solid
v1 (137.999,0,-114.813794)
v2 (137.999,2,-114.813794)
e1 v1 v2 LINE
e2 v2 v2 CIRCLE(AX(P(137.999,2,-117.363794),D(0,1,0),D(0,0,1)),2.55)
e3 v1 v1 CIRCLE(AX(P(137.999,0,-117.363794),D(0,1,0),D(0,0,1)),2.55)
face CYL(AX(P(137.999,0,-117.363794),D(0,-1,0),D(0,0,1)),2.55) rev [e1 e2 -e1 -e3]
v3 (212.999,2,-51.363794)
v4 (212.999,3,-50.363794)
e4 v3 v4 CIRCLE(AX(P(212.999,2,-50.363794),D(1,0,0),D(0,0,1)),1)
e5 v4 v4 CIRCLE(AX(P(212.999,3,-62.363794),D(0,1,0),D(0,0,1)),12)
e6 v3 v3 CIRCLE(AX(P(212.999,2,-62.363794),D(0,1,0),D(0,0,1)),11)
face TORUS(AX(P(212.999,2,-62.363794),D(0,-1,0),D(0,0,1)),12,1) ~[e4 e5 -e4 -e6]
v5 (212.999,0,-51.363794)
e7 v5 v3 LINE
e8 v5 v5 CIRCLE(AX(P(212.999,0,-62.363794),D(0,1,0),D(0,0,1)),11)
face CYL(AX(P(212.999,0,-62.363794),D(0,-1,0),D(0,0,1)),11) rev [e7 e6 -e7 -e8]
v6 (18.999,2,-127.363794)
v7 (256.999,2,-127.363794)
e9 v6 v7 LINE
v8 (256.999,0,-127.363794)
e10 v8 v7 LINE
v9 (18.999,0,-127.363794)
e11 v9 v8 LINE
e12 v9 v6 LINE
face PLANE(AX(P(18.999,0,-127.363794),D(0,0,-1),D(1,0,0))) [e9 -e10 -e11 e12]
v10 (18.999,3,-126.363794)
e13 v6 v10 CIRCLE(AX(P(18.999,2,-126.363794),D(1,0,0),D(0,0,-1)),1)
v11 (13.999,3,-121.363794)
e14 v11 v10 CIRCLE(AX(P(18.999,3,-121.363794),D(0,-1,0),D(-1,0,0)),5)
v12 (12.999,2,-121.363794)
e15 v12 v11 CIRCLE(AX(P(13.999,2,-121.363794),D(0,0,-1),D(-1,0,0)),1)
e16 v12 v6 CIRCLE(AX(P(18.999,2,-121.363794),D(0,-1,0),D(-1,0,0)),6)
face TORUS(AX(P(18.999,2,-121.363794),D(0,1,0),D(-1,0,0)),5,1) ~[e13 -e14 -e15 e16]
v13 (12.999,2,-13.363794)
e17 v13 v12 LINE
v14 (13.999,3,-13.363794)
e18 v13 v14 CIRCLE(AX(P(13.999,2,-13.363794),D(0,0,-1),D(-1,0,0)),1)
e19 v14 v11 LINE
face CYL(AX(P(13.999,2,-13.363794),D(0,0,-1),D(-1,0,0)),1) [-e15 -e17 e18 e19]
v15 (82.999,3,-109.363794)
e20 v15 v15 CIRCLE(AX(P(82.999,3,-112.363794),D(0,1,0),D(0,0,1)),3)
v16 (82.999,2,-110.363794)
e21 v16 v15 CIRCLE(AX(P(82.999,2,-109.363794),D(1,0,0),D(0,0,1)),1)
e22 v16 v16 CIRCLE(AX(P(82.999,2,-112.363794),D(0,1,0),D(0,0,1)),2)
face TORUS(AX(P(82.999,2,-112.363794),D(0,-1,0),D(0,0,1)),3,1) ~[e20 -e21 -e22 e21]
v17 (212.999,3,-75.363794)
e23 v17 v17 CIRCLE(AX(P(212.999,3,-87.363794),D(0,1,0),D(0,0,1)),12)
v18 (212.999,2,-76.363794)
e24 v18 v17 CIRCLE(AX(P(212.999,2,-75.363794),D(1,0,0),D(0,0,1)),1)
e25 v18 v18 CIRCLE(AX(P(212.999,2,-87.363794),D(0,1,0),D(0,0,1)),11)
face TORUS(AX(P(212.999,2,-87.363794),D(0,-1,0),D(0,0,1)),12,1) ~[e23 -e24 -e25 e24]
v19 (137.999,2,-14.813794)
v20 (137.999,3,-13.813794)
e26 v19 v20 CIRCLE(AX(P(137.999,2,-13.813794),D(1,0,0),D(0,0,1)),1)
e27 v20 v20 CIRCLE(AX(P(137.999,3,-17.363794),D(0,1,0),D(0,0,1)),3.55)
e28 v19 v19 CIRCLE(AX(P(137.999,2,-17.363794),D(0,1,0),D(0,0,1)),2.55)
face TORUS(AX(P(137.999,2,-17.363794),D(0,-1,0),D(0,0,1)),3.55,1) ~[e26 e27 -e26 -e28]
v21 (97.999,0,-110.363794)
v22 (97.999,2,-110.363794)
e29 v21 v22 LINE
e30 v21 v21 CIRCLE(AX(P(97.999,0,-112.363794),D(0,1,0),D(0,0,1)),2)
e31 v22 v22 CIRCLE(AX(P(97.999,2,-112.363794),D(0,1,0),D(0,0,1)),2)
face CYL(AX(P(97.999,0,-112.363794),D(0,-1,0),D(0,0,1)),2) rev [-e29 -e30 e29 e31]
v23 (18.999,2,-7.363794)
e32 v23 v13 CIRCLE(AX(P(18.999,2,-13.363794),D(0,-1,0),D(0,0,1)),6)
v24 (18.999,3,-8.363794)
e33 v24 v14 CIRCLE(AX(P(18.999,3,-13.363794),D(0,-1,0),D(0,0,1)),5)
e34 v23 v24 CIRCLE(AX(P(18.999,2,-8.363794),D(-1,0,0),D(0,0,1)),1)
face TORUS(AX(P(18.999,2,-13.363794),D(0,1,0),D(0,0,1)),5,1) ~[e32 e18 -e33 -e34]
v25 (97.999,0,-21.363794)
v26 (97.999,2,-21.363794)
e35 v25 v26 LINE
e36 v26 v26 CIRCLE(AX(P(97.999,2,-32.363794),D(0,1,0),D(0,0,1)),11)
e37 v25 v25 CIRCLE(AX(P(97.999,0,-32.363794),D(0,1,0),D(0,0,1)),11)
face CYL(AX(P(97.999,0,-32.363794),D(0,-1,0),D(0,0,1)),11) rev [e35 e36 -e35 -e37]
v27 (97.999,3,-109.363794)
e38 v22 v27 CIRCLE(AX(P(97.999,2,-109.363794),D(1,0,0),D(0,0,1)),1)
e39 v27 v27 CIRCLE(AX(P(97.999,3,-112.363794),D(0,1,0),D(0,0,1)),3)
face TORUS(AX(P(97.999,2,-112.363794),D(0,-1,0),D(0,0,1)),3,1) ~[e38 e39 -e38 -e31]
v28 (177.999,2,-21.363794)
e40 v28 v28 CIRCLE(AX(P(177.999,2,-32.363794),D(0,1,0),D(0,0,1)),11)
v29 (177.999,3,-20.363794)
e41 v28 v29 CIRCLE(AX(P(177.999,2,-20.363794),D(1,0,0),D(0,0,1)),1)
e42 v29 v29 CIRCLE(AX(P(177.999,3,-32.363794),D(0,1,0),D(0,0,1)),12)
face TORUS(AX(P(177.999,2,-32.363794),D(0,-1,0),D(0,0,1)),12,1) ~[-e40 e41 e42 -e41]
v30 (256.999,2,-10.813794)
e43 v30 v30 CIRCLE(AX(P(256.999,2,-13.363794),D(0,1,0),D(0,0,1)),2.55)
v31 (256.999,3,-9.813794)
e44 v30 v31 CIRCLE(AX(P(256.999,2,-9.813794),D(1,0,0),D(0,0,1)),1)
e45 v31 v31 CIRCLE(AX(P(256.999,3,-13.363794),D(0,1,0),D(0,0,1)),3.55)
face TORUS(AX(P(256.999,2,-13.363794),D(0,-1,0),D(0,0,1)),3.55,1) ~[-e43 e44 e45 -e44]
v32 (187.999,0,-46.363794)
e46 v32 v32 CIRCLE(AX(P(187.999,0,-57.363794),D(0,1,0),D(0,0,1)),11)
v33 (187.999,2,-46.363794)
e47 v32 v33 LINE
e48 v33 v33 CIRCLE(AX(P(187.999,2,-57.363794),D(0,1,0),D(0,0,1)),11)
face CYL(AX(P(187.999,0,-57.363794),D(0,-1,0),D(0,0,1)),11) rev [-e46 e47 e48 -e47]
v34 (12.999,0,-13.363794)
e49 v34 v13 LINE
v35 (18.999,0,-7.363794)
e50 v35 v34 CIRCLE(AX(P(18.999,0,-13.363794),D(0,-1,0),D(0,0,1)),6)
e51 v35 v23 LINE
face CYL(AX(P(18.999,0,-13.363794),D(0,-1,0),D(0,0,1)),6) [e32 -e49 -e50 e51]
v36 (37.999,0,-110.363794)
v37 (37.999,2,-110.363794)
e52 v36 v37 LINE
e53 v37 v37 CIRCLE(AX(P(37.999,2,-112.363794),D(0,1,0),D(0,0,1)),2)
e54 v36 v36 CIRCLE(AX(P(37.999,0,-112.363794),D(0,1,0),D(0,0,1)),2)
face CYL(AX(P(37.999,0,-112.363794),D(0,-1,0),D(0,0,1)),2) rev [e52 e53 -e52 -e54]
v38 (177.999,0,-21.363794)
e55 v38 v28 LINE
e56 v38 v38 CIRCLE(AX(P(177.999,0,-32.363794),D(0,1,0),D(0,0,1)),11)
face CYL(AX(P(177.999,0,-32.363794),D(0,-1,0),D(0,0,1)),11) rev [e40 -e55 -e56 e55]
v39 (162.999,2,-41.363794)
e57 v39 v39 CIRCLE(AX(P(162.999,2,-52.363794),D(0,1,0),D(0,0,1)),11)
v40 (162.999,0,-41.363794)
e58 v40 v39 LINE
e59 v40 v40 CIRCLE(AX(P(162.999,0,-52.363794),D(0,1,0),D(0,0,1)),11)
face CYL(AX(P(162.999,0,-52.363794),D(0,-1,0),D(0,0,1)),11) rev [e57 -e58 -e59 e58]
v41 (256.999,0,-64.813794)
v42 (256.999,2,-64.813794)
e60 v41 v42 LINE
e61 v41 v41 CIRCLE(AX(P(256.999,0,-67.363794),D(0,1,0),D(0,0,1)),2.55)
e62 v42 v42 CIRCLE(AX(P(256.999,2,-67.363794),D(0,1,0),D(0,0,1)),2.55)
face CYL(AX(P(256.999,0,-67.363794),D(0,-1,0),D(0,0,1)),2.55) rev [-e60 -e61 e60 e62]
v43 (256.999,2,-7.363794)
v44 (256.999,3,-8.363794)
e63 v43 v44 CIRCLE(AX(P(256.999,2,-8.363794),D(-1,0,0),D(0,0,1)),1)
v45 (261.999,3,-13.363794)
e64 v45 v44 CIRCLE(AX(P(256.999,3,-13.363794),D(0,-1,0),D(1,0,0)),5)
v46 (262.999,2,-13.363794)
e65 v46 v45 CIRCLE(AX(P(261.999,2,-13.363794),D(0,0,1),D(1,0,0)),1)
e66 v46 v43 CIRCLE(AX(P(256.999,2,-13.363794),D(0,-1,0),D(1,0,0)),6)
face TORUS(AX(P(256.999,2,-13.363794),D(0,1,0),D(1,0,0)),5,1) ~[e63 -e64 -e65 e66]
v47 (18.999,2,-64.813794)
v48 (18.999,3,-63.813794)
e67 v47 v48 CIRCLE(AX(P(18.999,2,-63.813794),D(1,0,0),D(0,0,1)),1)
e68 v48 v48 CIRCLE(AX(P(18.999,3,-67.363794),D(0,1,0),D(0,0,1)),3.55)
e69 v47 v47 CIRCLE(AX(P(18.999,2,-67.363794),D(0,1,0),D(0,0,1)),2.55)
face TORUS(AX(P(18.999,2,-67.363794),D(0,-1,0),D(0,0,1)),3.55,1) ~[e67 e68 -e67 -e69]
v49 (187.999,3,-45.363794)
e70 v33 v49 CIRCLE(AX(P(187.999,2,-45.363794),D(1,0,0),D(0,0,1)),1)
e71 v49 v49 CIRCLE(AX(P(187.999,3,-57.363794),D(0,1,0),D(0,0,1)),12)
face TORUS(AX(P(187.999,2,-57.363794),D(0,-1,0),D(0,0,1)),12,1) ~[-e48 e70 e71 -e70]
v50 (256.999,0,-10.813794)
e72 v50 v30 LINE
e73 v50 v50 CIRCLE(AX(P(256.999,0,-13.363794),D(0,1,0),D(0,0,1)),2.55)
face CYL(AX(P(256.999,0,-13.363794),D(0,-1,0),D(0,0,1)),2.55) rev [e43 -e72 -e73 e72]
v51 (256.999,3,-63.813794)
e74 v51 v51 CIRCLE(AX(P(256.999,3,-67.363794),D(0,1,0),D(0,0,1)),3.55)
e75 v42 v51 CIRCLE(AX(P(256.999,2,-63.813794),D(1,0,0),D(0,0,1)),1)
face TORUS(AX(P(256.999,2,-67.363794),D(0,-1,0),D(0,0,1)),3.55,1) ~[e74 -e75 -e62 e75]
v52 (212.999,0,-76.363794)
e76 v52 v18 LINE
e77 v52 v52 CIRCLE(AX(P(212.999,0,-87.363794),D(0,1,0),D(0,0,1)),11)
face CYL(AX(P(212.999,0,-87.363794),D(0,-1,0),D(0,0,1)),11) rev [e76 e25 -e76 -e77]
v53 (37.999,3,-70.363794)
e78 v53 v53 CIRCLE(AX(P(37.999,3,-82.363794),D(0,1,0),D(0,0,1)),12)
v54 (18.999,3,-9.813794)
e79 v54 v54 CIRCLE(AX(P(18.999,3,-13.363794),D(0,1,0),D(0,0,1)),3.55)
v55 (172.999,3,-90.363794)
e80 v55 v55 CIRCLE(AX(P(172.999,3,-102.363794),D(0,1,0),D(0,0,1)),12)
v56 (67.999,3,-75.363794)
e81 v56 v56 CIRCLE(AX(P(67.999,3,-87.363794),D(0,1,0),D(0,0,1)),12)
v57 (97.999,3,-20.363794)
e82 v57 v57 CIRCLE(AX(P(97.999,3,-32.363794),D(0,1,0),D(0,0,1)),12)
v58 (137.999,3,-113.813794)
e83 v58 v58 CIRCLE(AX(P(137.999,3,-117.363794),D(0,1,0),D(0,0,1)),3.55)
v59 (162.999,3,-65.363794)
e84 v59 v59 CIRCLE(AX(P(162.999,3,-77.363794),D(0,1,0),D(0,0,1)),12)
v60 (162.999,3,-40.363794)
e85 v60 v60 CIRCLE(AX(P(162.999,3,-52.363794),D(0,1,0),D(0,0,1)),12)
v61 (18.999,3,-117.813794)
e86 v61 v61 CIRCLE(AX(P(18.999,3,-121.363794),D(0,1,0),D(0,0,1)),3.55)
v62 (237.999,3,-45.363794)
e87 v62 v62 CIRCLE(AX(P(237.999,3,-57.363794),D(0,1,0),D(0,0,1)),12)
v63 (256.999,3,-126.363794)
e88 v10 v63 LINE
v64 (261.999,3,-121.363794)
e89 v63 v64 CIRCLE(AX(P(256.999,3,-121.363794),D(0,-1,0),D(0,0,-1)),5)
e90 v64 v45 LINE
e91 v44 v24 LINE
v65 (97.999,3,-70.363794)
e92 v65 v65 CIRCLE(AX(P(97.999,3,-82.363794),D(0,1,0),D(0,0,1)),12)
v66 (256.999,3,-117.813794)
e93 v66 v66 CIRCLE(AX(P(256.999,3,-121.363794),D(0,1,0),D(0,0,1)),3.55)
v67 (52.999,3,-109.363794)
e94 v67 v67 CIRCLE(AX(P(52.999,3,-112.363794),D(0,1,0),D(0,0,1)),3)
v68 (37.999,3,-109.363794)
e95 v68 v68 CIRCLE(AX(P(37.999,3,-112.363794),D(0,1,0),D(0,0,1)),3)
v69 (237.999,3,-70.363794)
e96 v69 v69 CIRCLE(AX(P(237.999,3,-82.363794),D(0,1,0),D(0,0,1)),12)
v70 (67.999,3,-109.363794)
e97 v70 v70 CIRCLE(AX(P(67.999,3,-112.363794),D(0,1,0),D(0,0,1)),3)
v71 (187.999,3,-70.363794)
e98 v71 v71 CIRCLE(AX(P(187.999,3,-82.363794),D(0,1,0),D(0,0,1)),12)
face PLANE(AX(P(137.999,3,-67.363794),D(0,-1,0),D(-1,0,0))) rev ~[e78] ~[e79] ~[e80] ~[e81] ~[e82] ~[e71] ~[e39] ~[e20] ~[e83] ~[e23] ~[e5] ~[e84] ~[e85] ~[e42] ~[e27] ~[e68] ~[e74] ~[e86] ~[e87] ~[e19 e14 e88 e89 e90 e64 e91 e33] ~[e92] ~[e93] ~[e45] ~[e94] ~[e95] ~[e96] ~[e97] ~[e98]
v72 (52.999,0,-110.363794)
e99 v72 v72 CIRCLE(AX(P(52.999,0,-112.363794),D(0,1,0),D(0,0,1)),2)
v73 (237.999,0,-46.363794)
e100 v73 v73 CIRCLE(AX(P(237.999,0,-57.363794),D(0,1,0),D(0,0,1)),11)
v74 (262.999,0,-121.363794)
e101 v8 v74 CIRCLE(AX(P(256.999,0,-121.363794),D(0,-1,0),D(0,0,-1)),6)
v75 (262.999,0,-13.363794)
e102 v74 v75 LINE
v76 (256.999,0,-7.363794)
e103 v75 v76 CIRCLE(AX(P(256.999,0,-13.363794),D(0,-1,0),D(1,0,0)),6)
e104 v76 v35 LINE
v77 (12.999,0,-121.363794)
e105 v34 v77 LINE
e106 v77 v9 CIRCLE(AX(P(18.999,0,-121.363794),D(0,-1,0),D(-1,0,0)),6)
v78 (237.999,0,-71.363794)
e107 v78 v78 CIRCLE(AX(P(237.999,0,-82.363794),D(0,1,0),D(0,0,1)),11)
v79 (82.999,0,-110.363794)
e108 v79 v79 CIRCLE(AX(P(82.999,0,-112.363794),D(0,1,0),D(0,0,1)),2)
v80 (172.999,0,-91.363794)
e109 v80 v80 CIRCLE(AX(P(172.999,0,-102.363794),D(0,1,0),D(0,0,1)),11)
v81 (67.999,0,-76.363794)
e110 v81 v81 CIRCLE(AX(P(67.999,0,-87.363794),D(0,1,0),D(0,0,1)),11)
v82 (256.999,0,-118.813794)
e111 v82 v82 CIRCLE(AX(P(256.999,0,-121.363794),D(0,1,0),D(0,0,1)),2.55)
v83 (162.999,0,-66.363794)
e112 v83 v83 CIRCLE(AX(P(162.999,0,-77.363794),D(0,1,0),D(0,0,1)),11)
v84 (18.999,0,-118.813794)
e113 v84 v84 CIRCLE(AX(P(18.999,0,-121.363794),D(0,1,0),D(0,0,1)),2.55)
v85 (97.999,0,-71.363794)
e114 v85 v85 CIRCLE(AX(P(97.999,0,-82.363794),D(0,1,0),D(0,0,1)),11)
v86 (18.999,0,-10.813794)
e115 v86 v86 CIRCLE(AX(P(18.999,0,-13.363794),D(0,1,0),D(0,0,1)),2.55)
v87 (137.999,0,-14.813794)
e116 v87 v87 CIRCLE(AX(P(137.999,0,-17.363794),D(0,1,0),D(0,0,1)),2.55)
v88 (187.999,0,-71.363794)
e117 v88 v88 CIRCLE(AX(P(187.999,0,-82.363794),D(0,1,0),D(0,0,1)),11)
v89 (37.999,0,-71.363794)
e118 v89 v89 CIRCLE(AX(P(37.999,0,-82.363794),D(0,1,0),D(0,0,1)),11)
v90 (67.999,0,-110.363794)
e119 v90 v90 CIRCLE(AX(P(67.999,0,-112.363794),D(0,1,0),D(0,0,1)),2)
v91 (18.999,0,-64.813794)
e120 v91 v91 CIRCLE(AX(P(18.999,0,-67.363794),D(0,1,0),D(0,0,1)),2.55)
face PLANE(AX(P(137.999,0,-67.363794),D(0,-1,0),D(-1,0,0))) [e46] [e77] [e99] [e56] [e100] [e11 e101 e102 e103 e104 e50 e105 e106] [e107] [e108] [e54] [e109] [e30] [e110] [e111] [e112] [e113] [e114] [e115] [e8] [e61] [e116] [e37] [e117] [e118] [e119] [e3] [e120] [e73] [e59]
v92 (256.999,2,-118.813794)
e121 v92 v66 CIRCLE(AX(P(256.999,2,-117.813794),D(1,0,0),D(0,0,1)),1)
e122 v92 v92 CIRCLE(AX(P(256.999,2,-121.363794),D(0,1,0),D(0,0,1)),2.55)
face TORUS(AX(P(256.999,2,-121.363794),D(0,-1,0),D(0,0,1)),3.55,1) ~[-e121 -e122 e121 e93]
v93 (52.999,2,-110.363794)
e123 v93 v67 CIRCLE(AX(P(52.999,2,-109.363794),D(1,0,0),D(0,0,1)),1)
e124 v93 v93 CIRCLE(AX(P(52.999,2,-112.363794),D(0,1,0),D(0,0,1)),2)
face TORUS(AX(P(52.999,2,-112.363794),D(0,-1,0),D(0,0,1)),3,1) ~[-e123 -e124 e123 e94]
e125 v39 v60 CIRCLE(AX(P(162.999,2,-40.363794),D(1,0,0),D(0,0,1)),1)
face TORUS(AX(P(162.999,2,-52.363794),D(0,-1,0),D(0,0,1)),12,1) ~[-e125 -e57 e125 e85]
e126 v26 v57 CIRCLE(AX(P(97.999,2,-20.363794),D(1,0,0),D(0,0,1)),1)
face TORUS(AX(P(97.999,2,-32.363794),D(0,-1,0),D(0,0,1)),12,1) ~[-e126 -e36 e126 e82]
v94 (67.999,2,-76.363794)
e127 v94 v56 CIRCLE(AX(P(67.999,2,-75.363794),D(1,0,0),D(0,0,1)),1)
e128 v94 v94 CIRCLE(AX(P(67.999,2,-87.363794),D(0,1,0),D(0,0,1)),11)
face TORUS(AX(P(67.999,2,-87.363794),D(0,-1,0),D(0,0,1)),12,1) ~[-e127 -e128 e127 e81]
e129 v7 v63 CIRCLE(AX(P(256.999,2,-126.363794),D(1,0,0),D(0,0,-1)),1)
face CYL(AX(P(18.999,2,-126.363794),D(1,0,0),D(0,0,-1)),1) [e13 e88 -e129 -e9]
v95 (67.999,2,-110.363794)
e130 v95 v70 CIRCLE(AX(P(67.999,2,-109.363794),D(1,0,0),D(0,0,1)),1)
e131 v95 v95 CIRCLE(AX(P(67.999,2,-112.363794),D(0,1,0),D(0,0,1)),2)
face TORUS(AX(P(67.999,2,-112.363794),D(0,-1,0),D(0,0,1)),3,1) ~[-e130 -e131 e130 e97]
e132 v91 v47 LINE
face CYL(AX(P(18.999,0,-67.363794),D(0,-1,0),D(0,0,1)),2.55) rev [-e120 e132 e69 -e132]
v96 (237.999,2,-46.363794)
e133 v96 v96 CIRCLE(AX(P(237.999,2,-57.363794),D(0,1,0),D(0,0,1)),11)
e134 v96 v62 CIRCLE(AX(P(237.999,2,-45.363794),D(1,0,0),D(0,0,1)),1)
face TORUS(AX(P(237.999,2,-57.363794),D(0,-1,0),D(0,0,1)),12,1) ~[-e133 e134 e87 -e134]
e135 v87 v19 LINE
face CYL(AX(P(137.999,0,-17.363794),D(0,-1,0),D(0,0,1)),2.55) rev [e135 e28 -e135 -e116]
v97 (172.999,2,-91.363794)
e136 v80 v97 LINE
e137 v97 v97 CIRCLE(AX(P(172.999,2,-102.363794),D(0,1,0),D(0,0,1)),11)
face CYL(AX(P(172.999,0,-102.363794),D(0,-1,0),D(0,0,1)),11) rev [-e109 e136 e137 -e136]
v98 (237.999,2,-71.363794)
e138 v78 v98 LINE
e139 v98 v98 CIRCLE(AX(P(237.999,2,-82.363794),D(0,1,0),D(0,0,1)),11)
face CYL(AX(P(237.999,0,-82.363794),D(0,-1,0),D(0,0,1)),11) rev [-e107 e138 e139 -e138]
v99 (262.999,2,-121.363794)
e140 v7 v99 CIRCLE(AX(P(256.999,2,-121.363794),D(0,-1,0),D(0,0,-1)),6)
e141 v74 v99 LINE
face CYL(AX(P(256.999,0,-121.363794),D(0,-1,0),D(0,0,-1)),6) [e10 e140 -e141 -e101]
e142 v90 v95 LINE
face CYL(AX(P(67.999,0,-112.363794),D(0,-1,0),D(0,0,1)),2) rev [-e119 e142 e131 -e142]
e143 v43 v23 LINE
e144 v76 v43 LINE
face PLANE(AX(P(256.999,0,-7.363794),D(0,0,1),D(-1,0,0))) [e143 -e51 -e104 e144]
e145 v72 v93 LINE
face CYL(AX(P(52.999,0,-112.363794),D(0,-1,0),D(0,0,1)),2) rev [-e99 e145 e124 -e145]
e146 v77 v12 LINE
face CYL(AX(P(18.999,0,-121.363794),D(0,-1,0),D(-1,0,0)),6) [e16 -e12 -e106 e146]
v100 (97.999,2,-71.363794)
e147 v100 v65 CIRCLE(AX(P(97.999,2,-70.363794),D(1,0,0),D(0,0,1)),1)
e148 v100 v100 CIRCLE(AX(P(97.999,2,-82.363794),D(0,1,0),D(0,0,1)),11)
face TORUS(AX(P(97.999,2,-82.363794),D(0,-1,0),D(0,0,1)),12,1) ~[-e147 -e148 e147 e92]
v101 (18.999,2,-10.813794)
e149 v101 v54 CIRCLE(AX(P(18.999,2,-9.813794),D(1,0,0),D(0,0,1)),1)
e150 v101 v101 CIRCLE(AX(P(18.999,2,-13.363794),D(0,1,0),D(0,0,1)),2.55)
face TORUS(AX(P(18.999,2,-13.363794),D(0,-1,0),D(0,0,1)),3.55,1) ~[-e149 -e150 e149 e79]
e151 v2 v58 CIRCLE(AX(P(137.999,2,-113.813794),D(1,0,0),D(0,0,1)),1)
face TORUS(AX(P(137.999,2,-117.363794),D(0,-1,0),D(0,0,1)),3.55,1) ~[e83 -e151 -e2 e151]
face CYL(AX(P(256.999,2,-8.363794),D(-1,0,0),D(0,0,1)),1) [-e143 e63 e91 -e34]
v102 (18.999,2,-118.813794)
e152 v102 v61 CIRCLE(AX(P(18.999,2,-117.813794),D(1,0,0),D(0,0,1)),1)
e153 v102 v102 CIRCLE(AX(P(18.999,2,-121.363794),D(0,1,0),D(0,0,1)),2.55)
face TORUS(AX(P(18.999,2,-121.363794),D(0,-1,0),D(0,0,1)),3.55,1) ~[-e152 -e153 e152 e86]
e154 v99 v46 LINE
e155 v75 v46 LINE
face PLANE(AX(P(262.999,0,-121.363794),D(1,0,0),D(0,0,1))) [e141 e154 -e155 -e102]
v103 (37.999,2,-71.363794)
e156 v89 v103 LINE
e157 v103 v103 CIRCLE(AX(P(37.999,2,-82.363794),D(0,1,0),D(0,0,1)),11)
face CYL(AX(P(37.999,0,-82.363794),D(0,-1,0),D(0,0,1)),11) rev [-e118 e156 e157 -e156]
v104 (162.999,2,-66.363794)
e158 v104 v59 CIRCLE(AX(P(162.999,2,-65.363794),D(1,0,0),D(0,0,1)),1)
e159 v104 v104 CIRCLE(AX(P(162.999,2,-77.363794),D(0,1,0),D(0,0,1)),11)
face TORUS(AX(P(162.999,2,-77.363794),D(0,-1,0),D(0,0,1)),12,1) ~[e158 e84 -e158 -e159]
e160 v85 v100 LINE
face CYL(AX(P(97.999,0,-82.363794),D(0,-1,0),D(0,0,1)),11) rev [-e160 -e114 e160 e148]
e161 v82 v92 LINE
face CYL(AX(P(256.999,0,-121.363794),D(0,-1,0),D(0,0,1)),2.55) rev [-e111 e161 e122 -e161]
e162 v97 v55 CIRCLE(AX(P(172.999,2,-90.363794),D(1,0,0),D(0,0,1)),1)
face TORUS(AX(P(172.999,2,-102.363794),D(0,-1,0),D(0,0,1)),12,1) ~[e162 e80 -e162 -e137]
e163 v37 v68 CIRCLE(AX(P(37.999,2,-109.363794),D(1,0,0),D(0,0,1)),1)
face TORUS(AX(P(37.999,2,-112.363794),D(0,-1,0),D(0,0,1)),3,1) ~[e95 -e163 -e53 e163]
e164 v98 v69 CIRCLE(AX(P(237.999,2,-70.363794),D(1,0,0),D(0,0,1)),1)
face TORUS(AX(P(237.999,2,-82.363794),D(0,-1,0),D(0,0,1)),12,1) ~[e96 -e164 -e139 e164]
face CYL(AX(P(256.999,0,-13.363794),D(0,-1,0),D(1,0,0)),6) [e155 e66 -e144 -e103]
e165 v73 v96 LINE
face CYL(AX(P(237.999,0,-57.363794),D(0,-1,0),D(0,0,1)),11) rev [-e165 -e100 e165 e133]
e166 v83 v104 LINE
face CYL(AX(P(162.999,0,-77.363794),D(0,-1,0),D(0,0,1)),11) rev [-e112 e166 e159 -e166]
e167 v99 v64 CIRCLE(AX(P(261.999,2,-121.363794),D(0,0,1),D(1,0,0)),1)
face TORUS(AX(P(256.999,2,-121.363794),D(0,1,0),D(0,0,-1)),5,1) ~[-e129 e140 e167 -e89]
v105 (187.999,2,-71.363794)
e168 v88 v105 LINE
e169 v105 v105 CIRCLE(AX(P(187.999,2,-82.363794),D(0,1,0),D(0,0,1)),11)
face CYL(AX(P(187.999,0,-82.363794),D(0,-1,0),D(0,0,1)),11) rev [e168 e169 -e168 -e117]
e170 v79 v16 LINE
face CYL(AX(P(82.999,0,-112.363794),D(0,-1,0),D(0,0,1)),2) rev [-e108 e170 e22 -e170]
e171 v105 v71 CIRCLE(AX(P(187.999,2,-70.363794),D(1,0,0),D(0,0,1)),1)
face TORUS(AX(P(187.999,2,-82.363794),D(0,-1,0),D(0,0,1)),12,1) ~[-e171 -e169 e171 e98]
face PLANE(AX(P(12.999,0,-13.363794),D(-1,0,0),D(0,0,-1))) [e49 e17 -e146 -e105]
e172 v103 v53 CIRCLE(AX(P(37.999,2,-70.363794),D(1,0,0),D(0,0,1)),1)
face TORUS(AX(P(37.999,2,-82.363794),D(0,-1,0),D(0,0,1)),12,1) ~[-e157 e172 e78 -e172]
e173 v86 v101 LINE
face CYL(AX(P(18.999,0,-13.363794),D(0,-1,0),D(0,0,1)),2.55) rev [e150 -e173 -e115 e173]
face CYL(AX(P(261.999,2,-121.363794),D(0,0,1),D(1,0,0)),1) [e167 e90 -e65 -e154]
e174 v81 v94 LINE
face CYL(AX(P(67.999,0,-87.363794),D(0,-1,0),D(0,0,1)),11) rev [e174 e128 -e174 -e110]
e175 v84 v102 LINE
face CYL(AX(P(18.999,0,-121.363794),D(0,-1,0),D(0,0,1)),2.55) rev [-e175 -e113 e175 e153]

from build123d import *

# Parameters (mm, degrees)
SKETCH_1_R      = 2.55
SKETCH_1_R_2    = 11
SKETCH_1_R_3    = 2
EXTRUDE_1_DEPTH = 3
FILLET_1_R      = 1


with BuildPart() as part:
    # 草图1 → 凸台-拉伸1 (new body)
    with BuildSketch(Plane(origin=(0, 0, 0), x_dir=(1, 0, 0), z_dir=(0, 1, 0))):
        with BuildLine():
            Line((18.99899992, 127.363794239), (256.99899992, 127.363794239))
            ThreePointArc((256.99899992, 127.363794239), (261.241640607, 125.606434926), (262.99899992, 121.363794239))
            Line((262.99899992, 121.363794239), (262.99899992, 13.363794239))
            ThreePointArc((262.99899992, 13.363794239), (261.241640607, 9.121153552), (256.99899992, 7.363794239))
            Line((256.99899992, 7.363794239), (18.99899992, 7.363794239))
            ThreePointArc((18.99899992, 7.363794239), (14.756359233, 9.121153552), (12.99899992, 13.363794239))
            Line((12.99899992, 13.363794239), (12.99899992, 121.363794239))
            ThreePointArc((12.99899992, 121.363794239), (14.756359233, 125.606434926), (18.99899992, 127.363794239))
        make_face()
        with Locations(Location((18.99899992, 121.363794239, 0), (0, 0, 270))):
            Circle(SKETCH_1_R, mode=Mode.SUBTRACT)
        with Locations(Location((256.99899992, 121.363794239, 0), (0, 0, 270))):
            Circle(SKETCH_1_R, mode=Mode.SUBTRACT)
        with Locations(Location((137.99899992, 117.363794239, 0), (0, 0, 270))):
            Circle(SKETCH_1_R, mode=Mode.SUBTRACT)
        with Locations(Location((18.99899992, 13.363794239, 0), (0, 0, 270))):
            Circle(SKETCH_1_R, mode=Mode.SUBTRACT)
        with Locations(Location((256.99899992, 13.363794239, 0), (0, 0, 270))):
            Circle(SKETCH_1_R, mode=Mode.SUBTRACT)
        with Locations(Location((137.99899992, 17.363794239, 0), (0, 0, 270))):
            Circle(SKETCH_1_R, mode=Mode.SUBTRACT)
        with Locations(Location((256.99899992, 67.363794239, 0), (0, 0, 270))):
            Circle(SKETCH_1_R, mode=Mode.SUBTRACT)
        with Locations(Location((18.99899992, 67.363794239, 0), (0, 0, 270))):
            Circle(SKETCH_1_R, mode=Mode.SUBTRACT)
        with Locations(Location((162.99899992, 77.363794239, 0), (0, 0, 270))):
            Circle(SKETCH_1_R_2, mode=Mode.SUBTRACT)
        with Locations(Location((187.99899992, 82.363794239, 0), (0, 0, 270))):
            Circle(SKETCH_1_R_2, mode=Mode.SUBTRACT)
        with Locations(Location((212.99899992, 87.363794239, 0), (0, 0, 270))):
            Circle(SKETCH_1_R_2, mode=Mode.SUBTRACT)
        with Locations(Location((237.99899992, 82.363794239, 0), (0, 0, 270))):
            Circle(SKETCH_1_R_2, mode=Mode.SUBTRACT)
        with Locations(Location((162.99899992, 52.363794239, 0), (0, 0, 270))):
            Circle(SKETCH_1_R_2, mode=Mode.SUBTRACT)
        with Locations(Location((187.99899992, 57.363794239, 0), (0, 0, 270))):
            Circle(SKETCH_1_R_2, mode=Mode.SUBTRACT)
        with Locations(Location((212.99899992, 62.363794239, 0), (0, 0, 270))):
            Circle(SKETCH_1_R_2, mode=Mode.SUBTRACT)
        with Locations(Location((237.99899992, 57.363794239, 0), (0, 0, 270))):
            Circle(SKETCH_1_R_2, mode=Mode.SUBTRACT)
        with Locations(Location((172.99899992, 102.363794239, 0), (0, 0, 270))):
            Circle(SKETCH_1_R_2, mode=Mode.SUBTRACT)
        with Locations(Location((177.99899992, 32.363794239, 0), (0, 0, 270))):
            Circle(SKETCH_1_R_2, mode=Mode.SUBTRACT)
        with Locations(Location((97.99899992, 82.363794239, 0), (0, 0, 270))):
            Circle(SKETCH_1_R_2, mode=Mode.SUBTRACT)
        with Locations(Location((67.99899992, 87.363794239, 0), (0, 0, 270))):
            Circle(SKETCH_1_R_2, mode=Mode.SUBTRACT)
        with Locations(Location((37.99899992, 82.363794239, 0), (0, 0, 270))):
            Circle(SKETCH_1_R_2, mode=Mode.SUBTRACT)
        with Locations(Location((97.99899992, 32.363794239, 0), (0, 0, 270))):
            Circle(SKETCH_1_R_2, mode=Mode.SUBTRACT)
        with Locations(Location((37.99899992, 112.363794239, 0), (0, 0, 270))):
            Circle(SKETCH_1_R_3, mode=Mode.SUBTRACT)
        with Locations(Location((52.99899992, 112.363794239, 0), (0, 0, 270))):
            Circle(SKETCH_1_R_3, mode=Mode.SUBTRACT)
        with Locations(Location((67.99899992, 112.363794239, 0), (0, 0, 270))):
            Circle(SKETCH_1_R_3, mode=Mode.SUBTRACT)
        with Locations(Location((82.99899992, 112.363794239, 0), (0, 0, 270))):
            Circle(SKETCH_1_R_3, mode=Mode.SUBTRACT)
        with Locations(Location((97.99899992, 112.363794239, 0), (0, 0, 270))):
            Circle(SKETCH_1_R_3, mode=Mode.SUBTRACT)
    extrude(amount=EXTRUDE_1_DEPTH)

    # 圆角1
    fillet_1_edges = [part.edges().sort_by_distance(p)[0] for p in [
        (97.99899992, 3, -43.363794239),
        (37.99899992, 3, -114.363794239),
        (52.99899992, 3, -114.363794239),
        (67.99899992, 3, -114.363794239),
        (82.99899992, 3, -114.363794239),
        (97.99899992, 3, -114.363794239),
        (14.756359233, 3, -9.121153552),
        (137.99899992, 3, -7.363794239),
        (261.241640607, 3, -9.121153552),
        (18.99899992, 3, -123.913794239),
        (262.99899992, 3, -67.363794239),
        (256.99899992, 3, -123.913794239),
        (261.241640607, 3, -125.606434926),
        (137.99899992, 3, -119.913794239),
        (137.99899992, 3, -127.363794239),
        (18.99899992, 3, -15.913794239),
        (256.99899992, 3, -15.913794239),
        (137.99899992, 3, -19.913794239),
        (256.99899992, 3, -69.913794239),
        (18.99899992, 3, -69.913794239),
        (14.756359233, 3, -125.606434926),
        (162.99899992, 3, -88.363794239),
        (187.99899992, 3, -93.363794239),
        (212.99899992, 3, -98.363794239),
        (237.99899992, 3, -93.363794239),
        (162.99899992, 3, -63.363794239),
        (187.99899992, 3, -68.363794239),
        (212.99899992, 3, -73.363794239),
        (237.99899992, 3, -68.363794239),
        (172.99899992, 3, -113.363794239),
        (177.99899992, 3, -43.363794239),
        (12.99899992, 3, -67.363794239),
        (97.99899992, 3, -93.363794239),
        (67.99899992, 3, -98.363794239),
        (37.99899992, 3, -93.363794239),
    ]]
    fillet(fillet_1_edges, radius=FILLET_1_R)


solid = part.part
